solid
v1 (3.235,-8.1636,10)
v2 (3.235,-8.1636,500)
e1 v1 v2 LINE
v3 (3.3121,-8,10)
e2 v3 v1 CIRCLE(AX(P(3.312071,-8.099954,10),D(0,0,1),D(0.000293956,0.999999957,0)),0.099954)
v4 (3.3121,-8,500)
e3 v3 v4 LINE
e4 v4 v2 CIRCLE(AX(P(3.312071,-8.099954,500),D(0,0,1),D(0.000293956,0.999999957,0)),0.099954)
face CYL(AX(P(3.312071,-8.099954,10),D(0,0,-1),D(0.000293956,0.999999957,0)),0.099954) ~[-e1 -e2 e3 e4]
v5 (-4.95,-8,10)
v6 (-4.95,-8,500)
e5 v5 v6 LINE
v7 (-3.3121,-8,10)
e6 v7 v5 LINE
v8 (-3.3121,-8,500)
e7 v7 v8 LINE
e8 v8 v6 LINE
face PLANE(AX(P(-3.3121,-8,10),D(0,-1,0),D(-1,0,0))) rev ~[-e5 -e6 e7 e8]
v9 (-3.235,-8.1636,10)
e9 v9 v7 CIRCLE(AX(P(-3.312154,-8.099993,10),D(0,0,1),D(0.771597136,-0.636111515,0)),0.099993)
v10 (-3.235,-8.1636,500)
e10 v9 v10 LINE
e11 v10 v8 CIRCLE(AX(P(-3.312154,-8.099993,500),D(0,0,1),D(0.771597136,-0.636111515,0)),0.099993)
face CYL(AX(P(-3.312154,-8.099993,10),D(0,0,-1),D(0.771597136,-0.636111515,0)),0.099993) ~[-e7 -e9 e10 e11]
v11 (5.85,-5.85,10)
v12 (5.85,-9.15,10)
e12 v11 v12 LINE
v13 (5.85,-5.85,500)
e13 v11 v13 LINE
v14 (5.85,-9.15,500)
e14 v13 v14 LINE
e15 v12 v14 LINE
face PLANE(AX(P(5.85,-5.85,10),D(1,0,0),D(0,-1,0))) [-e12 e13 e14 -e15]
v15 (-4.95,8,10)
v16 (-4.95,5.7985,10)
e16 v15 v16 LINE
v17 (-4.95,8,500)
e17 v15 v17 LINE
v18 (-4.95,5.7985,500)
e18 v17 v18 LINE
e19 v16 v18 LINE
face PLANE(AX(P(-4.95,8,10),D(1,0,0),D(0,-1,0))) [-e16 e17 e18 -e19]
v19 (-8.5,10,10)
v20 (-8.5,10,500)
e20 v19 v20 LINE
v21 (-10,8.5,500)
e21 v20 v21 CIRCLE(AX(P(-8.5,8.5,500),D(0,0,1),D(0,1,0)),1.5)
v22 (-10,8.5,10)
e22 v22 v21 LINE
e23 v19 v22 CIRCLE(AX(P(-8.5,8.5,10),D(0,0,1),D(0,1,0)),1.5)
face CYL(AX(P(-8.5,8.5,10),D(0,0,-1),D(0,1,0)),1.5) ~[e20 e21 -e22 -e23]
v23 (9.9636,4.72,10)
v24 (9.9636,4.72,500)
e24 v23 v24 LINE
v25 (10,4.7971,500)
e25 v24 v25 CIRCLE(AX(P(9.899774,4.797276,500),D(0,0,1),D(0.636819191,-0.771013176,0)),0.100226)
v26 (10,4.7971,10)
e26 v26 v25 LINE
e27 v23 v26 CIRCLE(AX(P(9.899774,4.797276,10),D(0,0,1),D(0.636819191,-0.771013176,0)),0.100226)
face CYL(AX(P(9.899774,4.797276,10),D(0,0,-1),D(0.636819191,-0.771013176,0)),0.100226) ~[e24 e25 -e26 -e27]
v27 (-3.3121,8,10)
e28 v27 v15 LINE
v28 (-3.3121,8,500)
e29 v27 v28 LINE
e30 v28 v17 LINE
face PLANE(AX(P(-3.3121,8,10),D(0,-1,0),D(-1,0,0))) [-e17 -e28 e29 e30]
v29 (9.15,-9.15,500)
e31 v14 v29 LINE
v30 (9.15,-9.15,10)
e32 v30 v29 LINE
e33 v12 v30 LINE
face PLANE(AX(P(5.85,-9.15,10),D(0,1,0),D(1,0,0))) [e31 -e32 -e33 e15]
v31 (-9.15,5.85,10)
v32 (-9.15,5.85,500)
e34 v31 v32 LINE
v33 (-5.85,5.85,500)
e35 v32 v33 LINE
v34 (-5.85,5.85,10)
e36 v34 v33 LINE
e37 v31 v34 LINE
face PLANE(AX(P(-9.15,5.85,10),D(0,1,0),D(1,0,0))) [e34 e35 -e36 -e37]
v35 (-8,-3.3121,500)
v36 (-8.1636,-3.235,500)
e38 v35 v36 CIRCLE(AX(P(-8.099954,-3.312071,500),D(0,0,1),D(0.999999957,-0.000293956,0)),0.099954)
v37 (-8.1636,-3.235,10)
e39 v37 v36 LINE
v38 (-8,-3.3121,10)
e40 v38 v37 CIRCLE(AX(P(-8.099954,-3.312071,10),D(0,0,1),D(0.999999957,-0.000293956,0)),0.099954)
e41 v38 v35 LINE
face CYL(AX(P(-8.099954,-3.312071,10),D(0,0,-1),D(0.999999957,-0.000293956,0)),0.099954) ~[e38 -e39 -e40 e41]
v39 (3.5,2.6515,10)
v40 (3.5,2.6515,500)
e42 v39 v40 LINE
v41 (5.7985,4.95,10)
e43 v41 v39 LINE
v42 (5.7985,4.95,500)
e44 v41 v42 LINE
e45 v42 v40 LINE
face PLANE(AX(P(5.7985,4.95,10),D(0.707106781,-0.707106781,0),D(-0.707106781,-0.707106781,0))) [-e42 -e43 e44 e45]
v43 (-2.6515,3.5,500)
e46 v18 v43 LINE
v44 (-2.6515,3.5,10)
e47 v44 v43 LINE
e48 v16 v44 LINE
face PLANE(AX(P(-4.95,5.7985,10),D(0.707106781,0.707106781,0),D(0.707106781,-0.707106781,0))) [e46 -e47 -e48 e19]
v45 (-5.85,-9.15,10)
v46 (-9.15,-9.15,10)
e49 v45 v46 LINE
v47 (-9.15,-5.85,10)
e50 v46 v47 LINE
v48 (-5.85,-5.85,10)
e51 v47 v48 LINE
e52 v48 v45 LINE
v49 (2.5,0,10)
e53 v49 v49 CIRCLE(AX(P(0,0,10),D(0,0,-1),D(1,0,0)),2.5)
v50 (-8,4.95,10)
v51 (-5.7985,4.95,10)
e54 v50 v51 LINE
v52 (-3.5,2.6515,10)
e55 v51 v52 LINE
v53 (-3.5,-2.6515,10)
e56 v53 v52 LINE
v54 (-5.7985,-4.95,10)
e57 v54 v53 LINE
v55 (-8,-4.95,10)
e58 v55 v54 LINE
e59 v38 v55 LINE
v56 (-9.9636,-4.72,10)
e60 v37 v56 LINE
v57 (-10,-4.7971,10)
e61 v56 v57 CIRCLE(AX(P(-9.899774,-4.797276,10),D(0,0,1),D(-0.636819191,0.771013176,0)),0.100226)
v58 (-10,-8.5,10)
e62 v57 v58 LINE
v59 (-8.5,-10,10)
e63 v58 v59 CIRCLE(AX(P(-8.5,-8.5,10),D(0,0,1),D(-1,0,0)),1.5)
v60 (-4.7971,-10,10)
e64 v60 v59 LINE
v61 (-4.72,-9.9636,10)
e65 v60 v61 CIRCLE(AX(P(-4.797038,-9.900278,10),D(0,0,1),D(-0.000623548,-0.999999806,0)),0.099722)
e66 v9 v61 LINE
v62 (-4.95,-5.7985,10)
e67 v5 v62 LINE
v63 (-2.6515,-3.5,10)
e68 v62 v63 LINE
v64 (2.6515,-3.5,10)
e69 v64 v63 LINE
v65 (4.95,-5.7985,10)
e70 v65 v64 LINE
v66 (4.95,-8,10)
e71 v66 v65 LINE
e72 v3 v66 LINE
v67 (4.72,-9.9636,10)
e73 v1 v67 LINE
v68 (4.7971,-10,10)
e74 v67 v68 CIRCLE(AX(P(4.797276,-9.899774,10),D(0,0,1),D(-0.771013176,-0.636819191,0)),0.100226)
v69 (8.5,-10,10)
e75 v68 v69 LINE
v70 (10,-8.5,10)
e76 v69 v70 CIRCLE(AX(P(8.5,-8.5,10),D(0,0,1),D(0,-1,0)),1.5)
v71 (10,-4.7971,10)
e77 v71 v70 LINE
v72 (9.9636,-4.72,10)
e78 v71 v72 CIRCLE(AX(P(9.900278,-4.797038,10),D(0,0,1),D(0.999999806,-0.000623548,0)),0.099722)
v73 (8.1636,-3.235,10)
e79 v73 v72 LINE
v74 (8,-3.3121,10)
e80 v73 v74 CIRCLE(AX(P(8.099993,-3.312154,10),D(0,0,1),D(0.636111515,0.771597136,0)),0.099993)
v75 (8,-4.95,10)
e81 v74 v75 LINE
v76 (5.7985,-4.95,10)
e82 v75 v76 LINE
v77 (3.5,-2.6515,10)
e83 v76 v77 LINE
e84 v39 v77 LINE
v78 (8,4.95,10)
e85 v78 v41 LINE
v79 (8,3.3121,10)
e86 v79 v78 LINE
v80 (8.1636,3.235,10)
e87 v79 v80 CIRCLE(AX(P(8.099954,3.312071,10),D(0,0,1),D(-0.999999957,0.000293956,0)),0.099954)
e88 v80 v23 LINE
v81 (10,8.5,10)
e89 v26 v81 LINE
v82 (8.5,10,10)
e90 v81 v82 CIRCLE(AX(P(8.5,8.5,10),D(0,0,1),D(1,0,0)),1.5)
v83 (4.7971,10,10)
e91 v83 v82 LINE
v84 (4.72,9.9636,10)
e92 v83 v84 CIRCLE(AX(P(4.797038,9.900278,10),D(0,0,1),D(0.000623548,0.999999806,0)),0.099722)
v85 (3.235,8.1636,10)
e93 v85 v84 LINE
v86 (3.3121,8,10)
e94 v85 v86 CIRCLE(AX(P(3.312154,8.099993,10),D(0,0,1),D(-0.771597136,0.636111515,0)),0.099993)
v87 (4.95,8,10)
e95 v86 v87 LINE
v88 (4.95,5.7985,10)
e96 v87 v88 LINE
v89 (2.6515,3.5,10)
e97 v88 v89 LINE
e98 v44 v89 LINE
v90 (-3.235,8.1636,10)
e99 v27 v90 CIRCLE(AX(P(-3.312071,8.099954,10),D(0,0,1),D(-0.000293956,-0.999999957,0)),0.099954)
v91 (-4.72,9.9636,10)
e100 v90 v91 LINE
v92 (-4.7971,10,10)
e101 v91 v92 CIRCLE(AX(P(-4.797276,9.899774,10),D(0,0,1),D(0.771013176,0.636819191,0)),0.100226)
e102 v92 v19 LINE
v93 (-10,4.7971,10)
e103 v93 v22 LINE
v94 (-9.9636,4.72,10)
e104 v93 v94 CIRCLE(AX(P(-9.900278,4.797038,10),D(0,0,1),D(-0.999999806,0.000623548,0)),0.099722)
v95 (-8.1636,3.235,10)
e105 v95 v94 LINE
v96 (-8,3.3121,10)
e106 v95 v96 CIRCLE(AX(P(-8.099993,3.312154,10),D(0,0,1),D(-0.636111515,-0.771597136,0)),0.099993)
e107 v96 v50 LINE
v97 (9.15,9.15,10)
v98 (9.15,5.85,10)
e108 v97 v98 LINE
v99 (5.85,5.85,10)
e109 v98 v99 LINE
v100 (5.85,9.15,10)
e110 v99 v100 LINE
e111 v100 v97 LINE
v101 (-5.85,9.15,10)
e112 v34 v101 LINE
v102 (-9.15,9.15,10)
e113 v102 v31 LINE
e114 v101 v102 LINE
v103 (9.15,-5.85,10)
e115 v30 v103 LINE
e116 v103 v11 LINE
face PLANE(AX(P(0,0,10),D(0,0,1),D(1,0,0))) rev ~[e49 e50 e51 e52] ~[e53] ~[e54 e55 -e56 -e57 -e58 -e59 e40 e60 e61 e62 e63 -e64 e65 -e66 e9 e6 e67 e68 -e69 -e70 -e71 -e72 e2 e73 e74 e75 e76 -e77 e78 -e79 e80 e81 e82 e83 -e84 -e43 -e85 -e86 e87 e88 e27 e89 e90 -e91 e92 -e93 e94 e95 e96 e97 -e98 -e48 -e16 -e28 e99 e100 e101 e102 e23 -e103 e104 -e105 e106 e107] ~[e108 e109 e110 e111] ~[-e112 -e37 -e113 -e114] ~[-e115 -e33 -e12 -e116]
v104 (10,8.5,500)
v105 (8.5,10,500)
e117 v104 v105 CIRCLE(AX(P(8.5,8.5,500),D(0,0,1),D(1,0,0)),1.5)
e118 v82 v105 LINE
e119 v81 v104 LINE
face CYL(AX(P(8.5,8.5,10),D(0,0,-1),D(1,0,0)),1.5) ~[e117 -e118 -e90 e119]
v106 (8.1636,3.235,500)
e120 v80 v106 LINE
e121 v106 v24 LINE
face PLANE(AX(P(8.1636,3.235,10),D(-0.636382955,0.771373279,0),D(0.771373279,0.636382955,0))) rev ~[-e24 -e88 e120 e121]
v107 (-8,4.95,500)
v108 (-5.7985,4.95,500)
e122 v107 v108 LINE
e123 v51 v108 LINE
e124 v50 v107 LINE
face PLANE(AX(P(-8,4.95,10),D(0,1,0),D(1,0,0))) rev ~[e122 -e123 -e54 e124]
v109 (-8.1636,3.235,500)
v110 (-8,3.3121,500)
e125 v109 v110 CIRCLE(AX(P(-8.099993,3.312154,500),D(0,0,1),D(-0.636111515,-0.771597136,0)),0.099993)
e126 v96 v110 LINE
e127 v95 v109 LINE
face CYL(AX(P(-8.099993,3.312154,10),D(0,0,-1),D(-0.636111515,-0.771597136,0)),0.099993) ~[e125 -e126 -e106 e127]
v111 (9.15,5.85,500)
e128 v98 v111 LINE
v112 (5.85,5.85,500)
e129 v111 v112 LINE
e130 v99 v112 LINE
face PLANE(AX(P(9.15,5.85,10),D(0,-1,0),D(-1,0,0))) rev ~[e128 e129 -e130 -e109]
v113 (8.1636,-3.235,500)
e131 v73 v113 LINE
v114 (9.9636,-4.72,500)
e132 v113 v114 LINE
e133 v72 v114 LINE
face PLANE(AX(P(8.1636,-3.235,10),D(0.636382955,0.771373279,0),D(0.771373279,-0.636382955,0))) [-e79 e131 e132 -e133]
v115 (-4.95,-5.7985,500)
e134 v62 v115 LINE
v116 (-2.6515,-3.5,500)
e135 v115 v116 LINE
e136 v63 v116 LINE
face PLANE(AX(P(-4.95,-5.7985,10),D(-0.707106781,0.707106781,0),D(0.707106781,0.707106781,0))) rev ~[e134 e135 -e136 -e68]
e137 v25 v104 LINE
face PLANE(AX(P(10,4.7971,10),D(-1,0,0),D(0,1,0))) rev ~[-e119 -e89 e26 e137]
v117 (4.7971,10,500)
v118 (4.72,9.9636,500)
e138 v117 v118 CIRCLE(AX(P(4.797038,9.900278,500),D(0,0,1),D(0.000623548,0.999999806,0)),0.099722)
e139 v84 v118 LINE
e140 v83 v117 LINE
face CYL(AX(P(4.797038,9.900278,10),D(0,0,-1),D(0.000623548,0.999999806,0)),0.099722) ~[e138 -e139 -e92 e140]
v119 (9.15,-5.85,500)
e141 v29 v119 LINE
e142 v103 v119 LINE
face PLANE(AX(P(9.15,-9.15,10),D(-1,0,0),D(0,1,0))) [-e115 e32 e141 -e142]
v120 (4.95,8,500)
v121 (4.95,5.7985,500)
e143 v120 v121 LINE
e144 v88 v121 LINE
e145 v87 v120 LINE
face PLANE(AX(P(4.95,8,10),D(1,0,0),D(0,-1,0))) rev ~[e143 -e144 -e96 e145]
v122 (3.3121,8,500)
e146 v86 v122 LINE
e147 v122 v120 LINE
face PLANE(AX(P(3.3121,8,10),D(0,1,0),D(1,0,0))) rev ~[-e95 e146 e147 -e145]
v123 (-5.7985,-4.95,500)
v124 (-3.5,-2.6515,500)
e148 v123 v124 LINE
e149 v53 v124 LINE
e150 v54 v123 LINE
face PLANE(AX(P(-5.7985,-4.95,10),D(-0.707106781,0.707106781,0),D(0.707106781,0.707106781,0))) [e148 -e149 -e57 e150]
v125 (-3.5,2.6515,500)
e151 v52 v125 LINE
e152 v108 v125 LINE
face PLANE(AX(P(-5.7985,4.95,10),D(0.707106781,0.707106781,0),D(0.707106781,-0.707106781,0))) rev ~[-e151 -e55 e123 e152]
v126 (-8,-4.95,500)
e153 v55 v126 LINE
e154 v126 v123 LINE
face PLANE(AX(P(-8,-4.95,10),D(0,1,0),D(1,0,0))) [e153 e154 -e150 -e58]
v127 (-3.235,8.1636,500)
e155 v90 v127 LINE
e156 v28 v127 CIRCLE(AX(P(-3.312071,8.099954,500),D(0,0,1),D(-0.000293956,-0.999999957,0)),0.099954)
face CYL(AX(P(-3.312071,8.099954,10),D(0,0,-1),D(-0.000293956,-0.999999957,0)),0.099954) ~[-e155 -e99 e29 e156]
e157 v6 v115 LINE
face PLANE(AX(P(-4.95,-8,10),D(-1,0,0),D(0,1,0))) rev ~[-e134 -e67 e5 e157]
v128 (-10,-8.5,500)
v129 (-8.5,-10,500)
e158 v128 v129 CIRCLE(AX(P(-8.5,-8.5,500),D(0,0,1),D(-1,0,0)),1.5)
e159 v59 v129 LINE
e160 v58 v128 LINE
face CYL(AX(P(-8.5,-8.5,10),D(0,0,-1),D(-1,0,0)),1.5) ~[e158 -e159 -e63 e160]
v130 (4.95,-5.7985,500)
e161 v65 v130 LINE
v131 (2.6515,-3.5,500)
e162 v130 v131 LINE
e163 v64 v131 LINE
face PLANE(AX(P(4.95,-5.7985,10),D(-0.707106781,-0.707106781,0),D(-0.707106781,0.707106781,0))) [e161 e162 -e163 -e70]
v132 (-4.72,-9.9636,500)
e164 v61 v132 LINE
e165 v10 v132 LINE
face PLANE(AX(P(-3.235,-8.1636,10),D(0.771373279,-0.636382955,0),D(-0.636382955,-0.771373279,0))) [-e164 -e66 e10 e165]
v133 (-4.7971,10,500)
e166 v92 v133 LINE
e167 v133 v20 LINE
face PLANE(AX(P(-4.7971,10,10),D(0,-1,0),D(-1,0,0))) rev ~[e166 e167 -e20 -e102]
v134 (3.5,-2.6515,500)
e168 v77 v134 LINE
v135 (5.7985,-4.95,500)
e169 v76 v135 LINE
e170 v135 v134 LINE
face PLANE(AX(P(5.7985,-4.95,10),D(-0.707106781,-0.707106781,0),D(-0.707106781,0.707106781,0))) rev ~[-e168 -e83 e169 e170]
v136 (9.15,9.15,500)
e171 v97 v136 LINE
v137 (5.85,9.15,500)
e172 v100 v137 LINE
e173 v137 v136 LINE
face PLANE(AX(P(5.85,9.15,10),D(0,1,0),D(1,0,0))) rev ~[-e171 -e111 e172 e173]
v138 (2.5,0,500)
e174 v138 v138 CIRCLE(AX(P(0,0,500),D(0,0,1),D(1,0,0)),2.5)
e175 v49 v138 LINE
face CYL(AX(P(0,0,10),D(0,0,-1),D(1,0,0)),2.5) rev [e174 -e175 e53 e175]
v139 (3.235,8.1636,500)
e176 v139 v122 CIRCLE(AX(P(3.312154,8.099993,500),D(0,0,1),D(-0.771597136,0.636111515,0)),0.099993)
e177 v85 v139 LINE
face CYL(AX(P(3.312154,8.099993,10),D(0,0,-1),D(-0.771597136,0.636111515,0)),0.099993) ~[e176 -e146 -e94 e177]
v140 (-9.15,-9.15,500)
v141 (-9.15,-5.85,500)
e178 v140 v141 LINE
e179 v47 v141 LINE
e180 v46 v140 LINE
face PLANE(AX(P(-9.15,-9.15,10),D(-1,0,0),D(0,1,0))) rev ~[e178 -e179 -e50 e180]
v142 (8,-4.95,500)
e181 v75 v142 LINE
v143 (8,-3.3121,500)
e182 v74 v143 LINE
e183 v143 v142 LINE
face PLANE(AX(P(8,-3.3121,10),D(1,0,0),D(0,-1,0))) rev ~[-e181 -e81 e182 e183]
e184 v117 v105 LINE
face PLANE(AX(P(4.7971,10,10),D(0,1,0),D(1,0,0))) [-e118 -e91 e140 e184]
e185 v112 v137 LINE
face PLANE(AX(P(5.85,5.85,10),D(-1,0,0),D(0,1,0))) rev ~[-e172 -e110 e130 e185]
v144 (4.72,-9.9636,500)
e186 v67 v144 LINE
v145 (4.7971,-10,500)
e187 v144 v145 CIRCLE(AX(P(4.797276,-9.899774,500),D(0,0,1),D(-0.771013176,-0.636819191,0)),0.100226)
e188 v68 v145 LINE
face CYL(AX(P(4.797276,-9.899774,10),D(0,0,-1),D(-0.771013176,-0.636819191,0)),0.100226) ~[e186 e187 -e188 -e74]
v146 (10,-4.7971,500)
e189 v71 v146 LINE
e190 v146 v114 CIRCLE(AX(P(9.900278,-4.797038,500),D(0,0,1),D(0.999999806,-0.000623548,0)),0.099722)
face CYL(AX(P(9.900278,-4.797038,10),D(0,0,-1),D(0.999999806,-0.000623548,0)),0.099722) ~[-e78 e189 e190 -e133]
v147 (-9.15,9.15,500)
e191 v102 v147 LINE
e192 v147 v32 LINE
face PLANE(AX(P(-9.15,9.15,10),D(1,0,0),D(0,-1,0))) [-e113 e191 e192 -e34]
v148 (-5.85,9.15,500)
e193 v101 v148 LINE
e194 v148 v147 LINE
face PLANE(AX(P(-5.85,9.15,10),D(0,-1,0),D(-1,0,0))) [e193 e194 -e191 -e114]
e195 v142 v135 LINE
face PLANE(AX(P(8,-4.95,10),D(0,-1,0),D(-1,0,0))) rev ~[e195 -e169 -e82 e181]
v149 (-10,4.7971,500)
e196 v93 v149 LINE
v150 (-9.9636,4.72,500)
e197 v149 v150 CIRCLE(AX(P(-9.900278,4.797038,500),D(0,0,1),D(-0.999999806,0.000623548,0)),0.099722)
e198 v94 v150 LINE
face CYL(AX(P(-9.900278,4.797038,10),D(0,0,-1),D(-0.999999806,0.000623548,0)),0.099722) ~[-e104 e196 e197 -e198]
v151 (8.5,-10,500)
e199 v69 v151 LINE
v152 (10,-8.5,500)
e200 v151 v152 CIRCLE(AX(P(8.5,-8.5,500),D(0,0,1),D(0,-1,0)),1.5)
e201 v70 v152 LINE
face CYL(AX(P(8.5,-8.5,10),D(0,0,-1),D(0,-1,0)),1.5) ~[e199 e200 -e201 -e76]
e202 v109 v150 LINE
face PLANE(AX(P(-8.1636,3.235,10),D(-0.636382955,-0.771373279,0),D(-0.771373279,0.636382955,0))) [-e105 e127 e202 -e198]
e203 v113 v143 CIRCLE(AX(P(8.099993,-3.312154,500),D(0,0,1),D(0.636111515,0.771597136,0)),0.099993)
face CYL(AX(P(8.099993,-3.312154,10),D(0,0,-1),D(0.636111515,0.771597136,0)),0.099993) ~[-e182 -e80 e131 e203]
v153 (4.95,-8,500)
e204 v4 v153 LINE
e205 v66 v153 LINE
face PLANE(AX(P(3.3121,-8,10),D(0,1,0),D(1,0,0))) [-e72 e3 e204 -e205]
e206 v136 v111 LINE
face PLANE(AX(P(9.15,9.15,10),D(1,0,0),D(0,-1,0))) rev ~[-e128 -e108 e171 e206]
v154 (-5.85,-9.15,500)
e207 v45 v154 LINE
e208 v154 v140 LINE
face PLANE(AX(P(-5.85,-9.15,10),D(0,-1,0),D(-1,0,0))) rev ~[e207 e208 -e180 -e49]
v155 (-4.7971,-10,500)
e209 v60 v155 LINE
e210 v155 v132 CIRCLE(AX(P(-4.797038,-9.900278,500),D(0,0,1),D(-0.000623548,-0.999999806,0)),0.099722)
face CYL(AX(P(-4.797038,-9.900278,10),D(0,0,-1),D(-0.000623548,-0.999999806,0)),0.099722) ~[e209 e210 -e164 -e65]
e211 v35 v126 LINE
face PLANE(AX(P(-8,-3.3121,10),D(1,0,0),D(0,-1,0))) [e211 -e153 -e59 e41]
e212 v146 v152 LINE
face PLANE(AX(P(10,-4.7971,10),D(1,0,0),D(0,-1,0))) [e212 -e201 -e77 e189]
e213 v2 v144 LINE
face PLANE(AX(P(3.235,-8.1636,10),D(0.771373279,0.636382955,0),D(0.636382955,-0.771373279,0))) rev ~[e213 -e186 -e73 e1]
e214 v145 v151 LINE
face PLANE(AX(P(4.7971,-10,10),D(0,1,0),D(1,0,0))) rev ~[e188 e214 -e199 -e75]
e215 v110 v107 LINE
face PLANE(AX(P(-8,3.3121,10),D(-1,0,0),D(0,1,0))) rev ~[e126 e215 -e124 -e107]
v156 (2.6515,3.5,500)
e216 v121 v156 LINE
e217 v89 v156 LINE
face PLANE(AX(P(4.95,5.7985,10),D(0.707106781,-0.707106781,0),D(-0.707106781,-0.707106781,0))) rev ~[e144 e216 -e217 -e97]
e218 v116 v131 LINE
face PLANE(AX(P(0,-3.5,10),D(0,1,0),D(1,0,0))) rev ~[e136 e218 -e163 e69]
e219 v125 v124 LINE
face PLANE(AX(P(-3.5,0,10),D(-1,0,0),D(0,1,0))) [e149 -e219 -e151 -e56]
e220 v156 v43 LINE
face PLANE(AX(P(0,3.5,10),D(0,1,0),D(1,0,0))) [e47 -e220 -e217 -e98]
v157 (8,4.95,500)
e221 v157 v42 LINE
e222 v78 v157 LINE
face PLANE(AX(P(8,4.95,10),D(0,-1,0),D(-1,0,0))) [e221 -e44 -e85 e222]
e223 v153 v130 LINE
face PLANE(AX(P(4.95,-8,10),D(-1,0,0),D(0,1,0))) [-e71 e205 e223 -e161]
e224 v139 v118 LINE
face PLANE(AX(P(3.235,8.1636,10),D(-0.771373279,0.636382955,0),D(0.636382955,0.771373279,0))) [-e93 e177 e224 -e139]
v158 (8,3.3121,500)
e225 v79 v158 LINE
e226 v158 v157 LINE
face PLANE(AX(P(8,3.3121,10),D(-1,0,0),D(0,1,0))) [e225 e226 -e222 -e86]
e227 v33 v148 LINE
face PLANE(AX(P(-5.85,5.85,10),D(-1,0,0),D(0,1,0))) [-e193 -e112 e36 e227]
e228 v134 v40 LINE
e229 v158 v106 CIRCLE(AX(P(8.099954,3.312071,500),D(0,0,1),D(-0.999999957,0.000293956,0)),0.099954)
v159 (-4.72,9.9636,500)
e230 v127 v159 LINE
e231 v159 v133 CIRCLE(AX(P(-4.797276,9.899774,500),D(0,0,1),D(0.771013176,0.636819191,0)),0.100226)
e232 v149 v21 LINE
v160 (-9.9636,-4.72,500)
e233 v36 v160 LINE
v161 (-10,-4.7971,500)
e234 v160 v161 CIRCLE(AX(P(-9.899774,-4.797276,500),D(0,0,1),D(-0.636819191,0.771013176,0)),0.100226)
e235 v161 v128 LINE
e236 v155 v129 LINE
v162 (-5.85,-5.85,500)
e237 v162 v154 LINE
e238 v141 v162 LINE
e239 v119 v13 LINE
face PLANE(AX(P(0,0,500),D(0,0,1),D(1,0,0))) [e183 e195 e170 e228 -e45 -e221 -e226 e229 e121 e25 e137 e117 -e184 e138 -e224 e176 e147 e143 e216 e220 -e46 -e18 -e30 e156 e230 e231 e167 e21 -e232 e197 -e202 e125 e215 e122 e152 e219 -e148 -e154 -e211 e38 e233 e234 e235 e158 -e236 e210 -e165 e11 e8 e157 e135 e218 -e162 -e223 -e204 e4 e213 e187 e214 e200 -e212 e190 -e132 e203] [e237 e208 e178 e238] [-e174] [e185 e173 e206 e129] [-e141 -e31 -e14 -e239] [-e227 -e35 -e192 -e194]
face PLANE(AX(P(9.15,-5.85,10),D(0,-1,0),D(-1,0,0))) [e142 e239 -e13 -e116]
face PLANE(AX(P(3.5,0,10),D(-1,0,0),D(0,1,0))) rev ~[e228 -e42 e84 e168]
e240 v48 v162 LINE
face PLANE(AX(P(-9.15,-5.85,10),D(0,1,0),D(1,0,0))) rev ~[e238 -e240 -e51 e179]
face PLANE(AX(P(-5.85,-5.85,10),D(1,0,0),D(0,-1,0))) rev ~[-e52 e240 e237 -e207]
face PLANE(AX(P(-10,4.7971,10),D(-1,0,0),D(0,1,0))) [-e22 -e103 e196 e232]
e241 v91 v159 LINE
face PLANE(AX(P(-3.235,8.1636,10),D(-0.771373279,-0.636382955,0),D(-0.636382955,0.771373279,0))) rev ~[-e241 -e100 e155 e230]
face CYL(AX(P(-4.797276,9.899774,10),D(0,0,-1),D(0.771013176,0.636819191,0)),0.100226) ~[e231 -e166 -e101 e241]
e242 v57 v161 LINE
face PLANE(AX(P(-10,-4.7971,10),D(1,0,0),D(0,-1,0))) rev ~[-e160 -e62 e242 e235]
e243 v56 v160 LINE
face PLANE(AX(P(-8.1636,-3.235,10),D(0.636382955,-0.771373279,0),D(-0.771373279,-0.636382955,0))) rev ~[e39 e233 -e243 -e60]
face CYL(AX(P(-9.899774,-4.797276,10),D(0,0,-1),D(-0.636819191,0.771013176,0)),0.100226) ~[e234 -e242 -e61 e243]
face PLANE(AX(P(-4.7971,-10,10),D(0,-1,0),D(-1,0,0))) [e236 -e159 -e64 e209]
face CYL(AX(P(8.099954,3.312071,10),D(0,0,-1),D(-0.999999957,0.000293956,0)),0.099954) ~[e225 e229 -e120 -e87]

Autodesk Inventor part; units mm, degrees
ref_plane "Начальная плоскость" through (0, 0, 10) normal (0, 0, 1) x (1, 0, 0)
ref_plane "Конечная плоскость" through (0, 0, 500) normal (0, 0, 1) x (1, 0, 0)
sketch "Эскиз" plane through (0, 0, 0) normal (0, 0, 1) x (1, 0, 0)
  line L0 (-14.4349, 0) -> (14.4349, 0) projected
  line L1 (0, -14) -> (0, 14) projected
  line L2 (0, 0) -> (7.5, 7.5) construction
  circle A0 centre (7.5, 7.5) radius 1.65 construction
  line L3 (5.85, 9.15) -> (9.15, 9.15)
  line L4 (9.15, 9.15) -> (9.15, 5.85)
  line L5 (9.15, 5.85) -> (5.85, 5.85)
  line L6 (5.85, 5.85) -> (5.85, 9.15)
  line L7 (3.235, 8.1636) -> (4.72, 9.9636)
  line L8 (4.7971, 10) -> (8.5, 10)
  line L9 (3.3121, 8) -> (4.95, 8)
  line L10 (4.95, 8) -> (4.95, 5.7985)
  line L11 (4.95, 5.7985) -> (2.6515, 3.5)
  line L12 (0, 3.5) -> (2.6515, 3.5)
  circle A1 centre (0, 0) radius 2.5
  line L13 (8.1636, 3.235) -> (9.9636, 4.72)
  line L14 (10, 4.7971) -> (10, 8.5)
  line L15 (8, 3.3121) -> (8, 4.95)
  line L16 (8, 4.95) -> (5.7985, 4.95)
  line L17 (5.7985, 4.95) -> (3.5, 2.6515)
  line L18 (3.5, 0) -> (3.5, 2.6515)
  arc A2 (10, 8.5) -> (8.5, 10) centre (8.5, 8.5) ccw
  line L19 (0, 0) -> (-7.5, 7.5) construction
  circle A3 centre (-7.5, 7.5) radius 1.65 construction
  line L20 (-5.85, 9.15) -> (-9.15, 9.15)
  line L21 (-9.15, 9.15) -> (-9.15, 5.85)
  line L22 (-9.15, 5.85) -> (-5.85, 5.85)
  line L23 (-5.85, 5.85) -> (-5.85, 9.15)
  line L24 (-3.235, 8.1636) -> (-4.72, 9.9636)
  line L25 (-4.7971, 10) -> (-8.5, 10)
  line L26 (-3.3121, 8) -> (-4.95, 8)
  line L27 (-4.95, 8) -> (-4.95, 5.7985)
  line L28 (-4.95, 5.7985) -> (-2.6515, 3.5)
  line L29 (0, 3.5) -> (-2.6515, 3.5)
  line L30 (-3.5, 0) -> (-3.5, 2.6515)
  line L31 (-5.7985, 4.95) -> (-3.5, 2.6515)
  line L32 (-8, 4.95) -> (-5.7985, 4.95)
  line L33 (-8, 3.3121) -> (-8, 4.95)
  line L34 (-8.1636, 3.235) -> (-9.9636, 4.72)
  line L35 (-10, 4.7971) -> (-10, 8.5)
  arc A4 (-8.5, 10) -> (-10, 8.5) centre (-8.5, 8.5) ccw
  line L36 (0, 14) -> (0, -14)
  line L37 (0, 0) -> (7.5, -7.5) construction
  circle A5 centre (7.5, -7.5) radius 1.65 construction
  line L38 (5.85, -9.15) -> (9.15, -9.15)
  line L39 (9.15, -9.15) -> (9.15, -5.85)
  line L40 (9.15, -5.85) -> (5.85, -5.85)
  line L41 (5.85, -5.85) -> (5.85, -9.15)
  line L42 (3.235, -8.1636) -> (4.72, -9.9636)
  line L43 (4.7971, -10) -> (8.5, -10)
  line L44 (3.3121, -8) -> (4.95, -8)
  line L45 (4.95, -8) -> (4.95, -5.7985)
  line L46 (4.95, -5.7985) -> (2.6515, -3.5)
  line L47 (0, -3.5) -> (2.6515, -3.5)
  line L48 (3.5, 0) -> (3.5, -2.6515)
  line L49 (5.7985, -4.95) -> (3.5, -2.6515)
  line L50 (8, -4.95) -> (5.7985, -4.95)
  line L51 (8, -3.3121) -> (8, -4.95)
  line L52 (8.1636, -3.235) -> (9.9636, -4.72)
  line L53 (10, -4.7971) -> (10, -8.5)
  arc A6 (8.5, -10) -> (10, -8.5) centre (8.5, -8.5) ccw
  line L54 (0, 0) -> (-7.5, -7.5) construction
  line L55 (-4.95, -8) -> (-4.95, -5.7985)
  line L56 (-3.3121, -8) -> (-4.95, -8)
  line L57 (-5.7985, -4.95) -> (-3.5, -2.6515)
  line L58 (-4.95, -5.7985) -> (-2.6515, -3.5)
  line L59 (-3.5, 0) -> (-3.5, -2.6515)
  line L60 (0, -3.5) -> (-2.6515, -3.5)
  circle A7 centre (-7.5, -7.5) radius 1.65 construction
  line L61 (-5.85, -5.85) -> (-5.85, -9.15)
  line L62 (-5.85, -9.15) -> (-9.15, -9.15)
  line L63 (-9.15, -9.15) -> (-9.15, -5.85)
  line L64 (-9.15, -5.85) -> (-5.85, -5.85)
  line L65 (-3.235, -8.1636) -> (-4.72, -9.9636)
  line L66 (-8, -4.95) -> (-5.7985, -4.95)
  line L67 (-8, -3.3121) -> (-8, -4.95)
  line L68 (-8.1636, -3.235) -> (-9.9636, -4.72)
  line L69 (-4.7971, -10) -> (-8.5, -10)
  line L70 (-10, -4.7971) -> (-10, -8.5)
  arc A8 (-10, -8.5) -> (-8.5, -10) centre (-8.5, -8.5) ccw
  arc A9 (3.235, 8.1636) -> (3.3121, 8) centre (3.3121, 8.1) ccw
  arc A10 (4.7971, 10) -> (4.72, 9.9636) centre (4.7971, 9.9) ccw
  arc A11 (8, 3.3121) -> (8.1636, 3.235) centre (8.1, 3.3121) ccw
  arc A12 (9.9636, 4.72) -> (10, 4.7971) centre (9.9, 4.7971) ccw
  arc A13 (-3.3121, 8) -> (-3.235, 8.1636) centre (-3.3121, 8.1) ccw
  arc A14 (-4.72, 9.9636) -> (-4.7971, 10) centre (-4.7971, 9.9) ccw
  arc A15 (-8.1636, 3.235) -> (-8, 3.3121) centre (-8.1, 3.3121) ccw
  arc A16 (-10, 4.7971) -> (-9.9636, 4.72) centre (-9.9, 4.7971) ccw
  arc A17 (-8, -3.3121) -> (-8.1636, -3.235) centre (-8.1, -3.3121) ccw
  arc A18 (-9.9636, -4.72) -> (-10, -4.7971) centre (-9.9, -4.7971) ccw
  arc A19 (-3.235, -8.1636) -> (-3.3121, -8) centre (-3.3121, -8.1) ccw
  arc A20 (-4.7971, -10) -> (-4.72, -9.9636) centre (-4.7971, -9.9) ccw
  arc A21 (4.72, -9.9636) -> (4.7971, -10) centre (4.7971, -9.9) ccw
  arc A22 (3.3121, -8) -> (3.235, -8.1636) centre (3.3121, -8.1) ccw
  arc A23 (8.1636, -3.235) -> (8, -3.3121) centre (8.1, -3.3121) ccw
  arc A24 (10, -4.7971) -> (9.9636, -4.72) centre (9.9, -4.7971) ccw
  point P0 (3.1, 8)
  point P1 (4.75, 10)
  point P2 (7.5, 9.15)
  point P3 (8, 3.1)
  point P4 (10, 4.75)
  point P5 (7.5, 5.85)
  point P6 (9.15, 7.5)
  point P7 (-3.1, 8)
  point P8 (-4.75, 10)
  point P9 (-7.5, 9.15)
  point P10 (-8, 3.1)
  point P11 (-10, 4.75)
  point P12 (-7.5, 5.85)
  point P13 (-9.15, 7.5)
  point P14 (3.1, -8)
  point P15 (4.75, -10)
  point P16 (7.5, -9.15)
  point P17 (8, -3.1)
  point P18 (10, -4.75)
  point P19 (7.5, -5.85)
  point P20 (9.15, -7.5)
  point P21 (-3.1, -8)
  point P22 (-7.5, -5.85)
  point P23 (-7.5, -9.15)
  point P24 (-9.15, -7.5)
  point P25 (-4.75, -10)
  point P26 (-8, -3.1)
  point P27 (-10, -4.75)
  dimension "d0" = 45
  dimension "d1" = 3.3
  dimension "d2" = 1.5
  dimension "d3" = 1.2
  dimension "d4" = 5
  dimension "d5" = 6.5
  dimension "d6" = 15
  dimension "d7" = 20
  dimension "d8" = 9.9
  dimension "d9" = 9.5
  dimension "d10" = 6.2
  dimension "d11" = 2
  dimension "d18" = 0.1
  dimension "d19" = 0.1
extrude "Тело" add sketch "Эскиз" along normal up to surface (490 mm away) from surface at 10 contours A1 L1 L12 L11 L10 L9 A9 L7 A10 L8 A2 L14 A12 L13 A11 L15 L16 L17 L18 L0 | L0 L48 L49 L50 L51 A23 L52 A24 L53 A6 L43 A21 L42 A22 L44 L45 L46 L47 L1 A1 | A1 L0 L30 L31 L32 L33 A15 L34 A16 L35 A4 L25 A14 L24 A13 L26 L27 L28 L29 L1 | L1 L60 L58 L55 L56 A19 L65 A20 L69 A8 L70 A18 L68 A17 L67 L66 L57 L59 L0 A1
sketch "Эскиз2" plane through (0, 0, 0) normal (0, 0, 1) x (1, 0, 0)
  line L0 (0, 0) -> (10, 0)
ref_plane "РабПлоскость3" through (0, 0, 0) normal (0, -1, 0) x (1, 0, 0)
sketch "Эскиз3" plane through (0, 0, 0) normal (0, -1, 0) x (1, 0, 0)
  line L0 (-2, 10) -> (12, 10)
  line L1 (-2, 500) -> (12, 500)
  dimension "d25" = 490
ref_plane "РабПлоскость4" through (0, -290, 10) normal (0, 0, -1) x (-1, 0, 0)
split "Разделение1" plane through (0, -290, 10) removes the side toward (0, 0, -1)
ref_plane "РабПлоскость5" through (40, 0, 10) normal (0, 0, -1) x (-1, 0, 0)
split "Разделение2" plane through (40, 0, 10) removes the side toward (0, 0, -1)
ref_plane "РабПлоскость6" through (0, 10, 500) normal (0, 0, 1) x (1, 0, 0)
split "Разделение3" plane through (0, 10, 500) removes the side toward (0, 0, 1)
ref_plane "РабПлоскость7" through (10, 0, 520) normal (0, 0, 1) x (1, 0, 0)
split "Разделение4" plane through (10, 0, 520) removes the side toward (0, 0, 1)
properties part number "короткая палка" material "Алюминий 6061"
